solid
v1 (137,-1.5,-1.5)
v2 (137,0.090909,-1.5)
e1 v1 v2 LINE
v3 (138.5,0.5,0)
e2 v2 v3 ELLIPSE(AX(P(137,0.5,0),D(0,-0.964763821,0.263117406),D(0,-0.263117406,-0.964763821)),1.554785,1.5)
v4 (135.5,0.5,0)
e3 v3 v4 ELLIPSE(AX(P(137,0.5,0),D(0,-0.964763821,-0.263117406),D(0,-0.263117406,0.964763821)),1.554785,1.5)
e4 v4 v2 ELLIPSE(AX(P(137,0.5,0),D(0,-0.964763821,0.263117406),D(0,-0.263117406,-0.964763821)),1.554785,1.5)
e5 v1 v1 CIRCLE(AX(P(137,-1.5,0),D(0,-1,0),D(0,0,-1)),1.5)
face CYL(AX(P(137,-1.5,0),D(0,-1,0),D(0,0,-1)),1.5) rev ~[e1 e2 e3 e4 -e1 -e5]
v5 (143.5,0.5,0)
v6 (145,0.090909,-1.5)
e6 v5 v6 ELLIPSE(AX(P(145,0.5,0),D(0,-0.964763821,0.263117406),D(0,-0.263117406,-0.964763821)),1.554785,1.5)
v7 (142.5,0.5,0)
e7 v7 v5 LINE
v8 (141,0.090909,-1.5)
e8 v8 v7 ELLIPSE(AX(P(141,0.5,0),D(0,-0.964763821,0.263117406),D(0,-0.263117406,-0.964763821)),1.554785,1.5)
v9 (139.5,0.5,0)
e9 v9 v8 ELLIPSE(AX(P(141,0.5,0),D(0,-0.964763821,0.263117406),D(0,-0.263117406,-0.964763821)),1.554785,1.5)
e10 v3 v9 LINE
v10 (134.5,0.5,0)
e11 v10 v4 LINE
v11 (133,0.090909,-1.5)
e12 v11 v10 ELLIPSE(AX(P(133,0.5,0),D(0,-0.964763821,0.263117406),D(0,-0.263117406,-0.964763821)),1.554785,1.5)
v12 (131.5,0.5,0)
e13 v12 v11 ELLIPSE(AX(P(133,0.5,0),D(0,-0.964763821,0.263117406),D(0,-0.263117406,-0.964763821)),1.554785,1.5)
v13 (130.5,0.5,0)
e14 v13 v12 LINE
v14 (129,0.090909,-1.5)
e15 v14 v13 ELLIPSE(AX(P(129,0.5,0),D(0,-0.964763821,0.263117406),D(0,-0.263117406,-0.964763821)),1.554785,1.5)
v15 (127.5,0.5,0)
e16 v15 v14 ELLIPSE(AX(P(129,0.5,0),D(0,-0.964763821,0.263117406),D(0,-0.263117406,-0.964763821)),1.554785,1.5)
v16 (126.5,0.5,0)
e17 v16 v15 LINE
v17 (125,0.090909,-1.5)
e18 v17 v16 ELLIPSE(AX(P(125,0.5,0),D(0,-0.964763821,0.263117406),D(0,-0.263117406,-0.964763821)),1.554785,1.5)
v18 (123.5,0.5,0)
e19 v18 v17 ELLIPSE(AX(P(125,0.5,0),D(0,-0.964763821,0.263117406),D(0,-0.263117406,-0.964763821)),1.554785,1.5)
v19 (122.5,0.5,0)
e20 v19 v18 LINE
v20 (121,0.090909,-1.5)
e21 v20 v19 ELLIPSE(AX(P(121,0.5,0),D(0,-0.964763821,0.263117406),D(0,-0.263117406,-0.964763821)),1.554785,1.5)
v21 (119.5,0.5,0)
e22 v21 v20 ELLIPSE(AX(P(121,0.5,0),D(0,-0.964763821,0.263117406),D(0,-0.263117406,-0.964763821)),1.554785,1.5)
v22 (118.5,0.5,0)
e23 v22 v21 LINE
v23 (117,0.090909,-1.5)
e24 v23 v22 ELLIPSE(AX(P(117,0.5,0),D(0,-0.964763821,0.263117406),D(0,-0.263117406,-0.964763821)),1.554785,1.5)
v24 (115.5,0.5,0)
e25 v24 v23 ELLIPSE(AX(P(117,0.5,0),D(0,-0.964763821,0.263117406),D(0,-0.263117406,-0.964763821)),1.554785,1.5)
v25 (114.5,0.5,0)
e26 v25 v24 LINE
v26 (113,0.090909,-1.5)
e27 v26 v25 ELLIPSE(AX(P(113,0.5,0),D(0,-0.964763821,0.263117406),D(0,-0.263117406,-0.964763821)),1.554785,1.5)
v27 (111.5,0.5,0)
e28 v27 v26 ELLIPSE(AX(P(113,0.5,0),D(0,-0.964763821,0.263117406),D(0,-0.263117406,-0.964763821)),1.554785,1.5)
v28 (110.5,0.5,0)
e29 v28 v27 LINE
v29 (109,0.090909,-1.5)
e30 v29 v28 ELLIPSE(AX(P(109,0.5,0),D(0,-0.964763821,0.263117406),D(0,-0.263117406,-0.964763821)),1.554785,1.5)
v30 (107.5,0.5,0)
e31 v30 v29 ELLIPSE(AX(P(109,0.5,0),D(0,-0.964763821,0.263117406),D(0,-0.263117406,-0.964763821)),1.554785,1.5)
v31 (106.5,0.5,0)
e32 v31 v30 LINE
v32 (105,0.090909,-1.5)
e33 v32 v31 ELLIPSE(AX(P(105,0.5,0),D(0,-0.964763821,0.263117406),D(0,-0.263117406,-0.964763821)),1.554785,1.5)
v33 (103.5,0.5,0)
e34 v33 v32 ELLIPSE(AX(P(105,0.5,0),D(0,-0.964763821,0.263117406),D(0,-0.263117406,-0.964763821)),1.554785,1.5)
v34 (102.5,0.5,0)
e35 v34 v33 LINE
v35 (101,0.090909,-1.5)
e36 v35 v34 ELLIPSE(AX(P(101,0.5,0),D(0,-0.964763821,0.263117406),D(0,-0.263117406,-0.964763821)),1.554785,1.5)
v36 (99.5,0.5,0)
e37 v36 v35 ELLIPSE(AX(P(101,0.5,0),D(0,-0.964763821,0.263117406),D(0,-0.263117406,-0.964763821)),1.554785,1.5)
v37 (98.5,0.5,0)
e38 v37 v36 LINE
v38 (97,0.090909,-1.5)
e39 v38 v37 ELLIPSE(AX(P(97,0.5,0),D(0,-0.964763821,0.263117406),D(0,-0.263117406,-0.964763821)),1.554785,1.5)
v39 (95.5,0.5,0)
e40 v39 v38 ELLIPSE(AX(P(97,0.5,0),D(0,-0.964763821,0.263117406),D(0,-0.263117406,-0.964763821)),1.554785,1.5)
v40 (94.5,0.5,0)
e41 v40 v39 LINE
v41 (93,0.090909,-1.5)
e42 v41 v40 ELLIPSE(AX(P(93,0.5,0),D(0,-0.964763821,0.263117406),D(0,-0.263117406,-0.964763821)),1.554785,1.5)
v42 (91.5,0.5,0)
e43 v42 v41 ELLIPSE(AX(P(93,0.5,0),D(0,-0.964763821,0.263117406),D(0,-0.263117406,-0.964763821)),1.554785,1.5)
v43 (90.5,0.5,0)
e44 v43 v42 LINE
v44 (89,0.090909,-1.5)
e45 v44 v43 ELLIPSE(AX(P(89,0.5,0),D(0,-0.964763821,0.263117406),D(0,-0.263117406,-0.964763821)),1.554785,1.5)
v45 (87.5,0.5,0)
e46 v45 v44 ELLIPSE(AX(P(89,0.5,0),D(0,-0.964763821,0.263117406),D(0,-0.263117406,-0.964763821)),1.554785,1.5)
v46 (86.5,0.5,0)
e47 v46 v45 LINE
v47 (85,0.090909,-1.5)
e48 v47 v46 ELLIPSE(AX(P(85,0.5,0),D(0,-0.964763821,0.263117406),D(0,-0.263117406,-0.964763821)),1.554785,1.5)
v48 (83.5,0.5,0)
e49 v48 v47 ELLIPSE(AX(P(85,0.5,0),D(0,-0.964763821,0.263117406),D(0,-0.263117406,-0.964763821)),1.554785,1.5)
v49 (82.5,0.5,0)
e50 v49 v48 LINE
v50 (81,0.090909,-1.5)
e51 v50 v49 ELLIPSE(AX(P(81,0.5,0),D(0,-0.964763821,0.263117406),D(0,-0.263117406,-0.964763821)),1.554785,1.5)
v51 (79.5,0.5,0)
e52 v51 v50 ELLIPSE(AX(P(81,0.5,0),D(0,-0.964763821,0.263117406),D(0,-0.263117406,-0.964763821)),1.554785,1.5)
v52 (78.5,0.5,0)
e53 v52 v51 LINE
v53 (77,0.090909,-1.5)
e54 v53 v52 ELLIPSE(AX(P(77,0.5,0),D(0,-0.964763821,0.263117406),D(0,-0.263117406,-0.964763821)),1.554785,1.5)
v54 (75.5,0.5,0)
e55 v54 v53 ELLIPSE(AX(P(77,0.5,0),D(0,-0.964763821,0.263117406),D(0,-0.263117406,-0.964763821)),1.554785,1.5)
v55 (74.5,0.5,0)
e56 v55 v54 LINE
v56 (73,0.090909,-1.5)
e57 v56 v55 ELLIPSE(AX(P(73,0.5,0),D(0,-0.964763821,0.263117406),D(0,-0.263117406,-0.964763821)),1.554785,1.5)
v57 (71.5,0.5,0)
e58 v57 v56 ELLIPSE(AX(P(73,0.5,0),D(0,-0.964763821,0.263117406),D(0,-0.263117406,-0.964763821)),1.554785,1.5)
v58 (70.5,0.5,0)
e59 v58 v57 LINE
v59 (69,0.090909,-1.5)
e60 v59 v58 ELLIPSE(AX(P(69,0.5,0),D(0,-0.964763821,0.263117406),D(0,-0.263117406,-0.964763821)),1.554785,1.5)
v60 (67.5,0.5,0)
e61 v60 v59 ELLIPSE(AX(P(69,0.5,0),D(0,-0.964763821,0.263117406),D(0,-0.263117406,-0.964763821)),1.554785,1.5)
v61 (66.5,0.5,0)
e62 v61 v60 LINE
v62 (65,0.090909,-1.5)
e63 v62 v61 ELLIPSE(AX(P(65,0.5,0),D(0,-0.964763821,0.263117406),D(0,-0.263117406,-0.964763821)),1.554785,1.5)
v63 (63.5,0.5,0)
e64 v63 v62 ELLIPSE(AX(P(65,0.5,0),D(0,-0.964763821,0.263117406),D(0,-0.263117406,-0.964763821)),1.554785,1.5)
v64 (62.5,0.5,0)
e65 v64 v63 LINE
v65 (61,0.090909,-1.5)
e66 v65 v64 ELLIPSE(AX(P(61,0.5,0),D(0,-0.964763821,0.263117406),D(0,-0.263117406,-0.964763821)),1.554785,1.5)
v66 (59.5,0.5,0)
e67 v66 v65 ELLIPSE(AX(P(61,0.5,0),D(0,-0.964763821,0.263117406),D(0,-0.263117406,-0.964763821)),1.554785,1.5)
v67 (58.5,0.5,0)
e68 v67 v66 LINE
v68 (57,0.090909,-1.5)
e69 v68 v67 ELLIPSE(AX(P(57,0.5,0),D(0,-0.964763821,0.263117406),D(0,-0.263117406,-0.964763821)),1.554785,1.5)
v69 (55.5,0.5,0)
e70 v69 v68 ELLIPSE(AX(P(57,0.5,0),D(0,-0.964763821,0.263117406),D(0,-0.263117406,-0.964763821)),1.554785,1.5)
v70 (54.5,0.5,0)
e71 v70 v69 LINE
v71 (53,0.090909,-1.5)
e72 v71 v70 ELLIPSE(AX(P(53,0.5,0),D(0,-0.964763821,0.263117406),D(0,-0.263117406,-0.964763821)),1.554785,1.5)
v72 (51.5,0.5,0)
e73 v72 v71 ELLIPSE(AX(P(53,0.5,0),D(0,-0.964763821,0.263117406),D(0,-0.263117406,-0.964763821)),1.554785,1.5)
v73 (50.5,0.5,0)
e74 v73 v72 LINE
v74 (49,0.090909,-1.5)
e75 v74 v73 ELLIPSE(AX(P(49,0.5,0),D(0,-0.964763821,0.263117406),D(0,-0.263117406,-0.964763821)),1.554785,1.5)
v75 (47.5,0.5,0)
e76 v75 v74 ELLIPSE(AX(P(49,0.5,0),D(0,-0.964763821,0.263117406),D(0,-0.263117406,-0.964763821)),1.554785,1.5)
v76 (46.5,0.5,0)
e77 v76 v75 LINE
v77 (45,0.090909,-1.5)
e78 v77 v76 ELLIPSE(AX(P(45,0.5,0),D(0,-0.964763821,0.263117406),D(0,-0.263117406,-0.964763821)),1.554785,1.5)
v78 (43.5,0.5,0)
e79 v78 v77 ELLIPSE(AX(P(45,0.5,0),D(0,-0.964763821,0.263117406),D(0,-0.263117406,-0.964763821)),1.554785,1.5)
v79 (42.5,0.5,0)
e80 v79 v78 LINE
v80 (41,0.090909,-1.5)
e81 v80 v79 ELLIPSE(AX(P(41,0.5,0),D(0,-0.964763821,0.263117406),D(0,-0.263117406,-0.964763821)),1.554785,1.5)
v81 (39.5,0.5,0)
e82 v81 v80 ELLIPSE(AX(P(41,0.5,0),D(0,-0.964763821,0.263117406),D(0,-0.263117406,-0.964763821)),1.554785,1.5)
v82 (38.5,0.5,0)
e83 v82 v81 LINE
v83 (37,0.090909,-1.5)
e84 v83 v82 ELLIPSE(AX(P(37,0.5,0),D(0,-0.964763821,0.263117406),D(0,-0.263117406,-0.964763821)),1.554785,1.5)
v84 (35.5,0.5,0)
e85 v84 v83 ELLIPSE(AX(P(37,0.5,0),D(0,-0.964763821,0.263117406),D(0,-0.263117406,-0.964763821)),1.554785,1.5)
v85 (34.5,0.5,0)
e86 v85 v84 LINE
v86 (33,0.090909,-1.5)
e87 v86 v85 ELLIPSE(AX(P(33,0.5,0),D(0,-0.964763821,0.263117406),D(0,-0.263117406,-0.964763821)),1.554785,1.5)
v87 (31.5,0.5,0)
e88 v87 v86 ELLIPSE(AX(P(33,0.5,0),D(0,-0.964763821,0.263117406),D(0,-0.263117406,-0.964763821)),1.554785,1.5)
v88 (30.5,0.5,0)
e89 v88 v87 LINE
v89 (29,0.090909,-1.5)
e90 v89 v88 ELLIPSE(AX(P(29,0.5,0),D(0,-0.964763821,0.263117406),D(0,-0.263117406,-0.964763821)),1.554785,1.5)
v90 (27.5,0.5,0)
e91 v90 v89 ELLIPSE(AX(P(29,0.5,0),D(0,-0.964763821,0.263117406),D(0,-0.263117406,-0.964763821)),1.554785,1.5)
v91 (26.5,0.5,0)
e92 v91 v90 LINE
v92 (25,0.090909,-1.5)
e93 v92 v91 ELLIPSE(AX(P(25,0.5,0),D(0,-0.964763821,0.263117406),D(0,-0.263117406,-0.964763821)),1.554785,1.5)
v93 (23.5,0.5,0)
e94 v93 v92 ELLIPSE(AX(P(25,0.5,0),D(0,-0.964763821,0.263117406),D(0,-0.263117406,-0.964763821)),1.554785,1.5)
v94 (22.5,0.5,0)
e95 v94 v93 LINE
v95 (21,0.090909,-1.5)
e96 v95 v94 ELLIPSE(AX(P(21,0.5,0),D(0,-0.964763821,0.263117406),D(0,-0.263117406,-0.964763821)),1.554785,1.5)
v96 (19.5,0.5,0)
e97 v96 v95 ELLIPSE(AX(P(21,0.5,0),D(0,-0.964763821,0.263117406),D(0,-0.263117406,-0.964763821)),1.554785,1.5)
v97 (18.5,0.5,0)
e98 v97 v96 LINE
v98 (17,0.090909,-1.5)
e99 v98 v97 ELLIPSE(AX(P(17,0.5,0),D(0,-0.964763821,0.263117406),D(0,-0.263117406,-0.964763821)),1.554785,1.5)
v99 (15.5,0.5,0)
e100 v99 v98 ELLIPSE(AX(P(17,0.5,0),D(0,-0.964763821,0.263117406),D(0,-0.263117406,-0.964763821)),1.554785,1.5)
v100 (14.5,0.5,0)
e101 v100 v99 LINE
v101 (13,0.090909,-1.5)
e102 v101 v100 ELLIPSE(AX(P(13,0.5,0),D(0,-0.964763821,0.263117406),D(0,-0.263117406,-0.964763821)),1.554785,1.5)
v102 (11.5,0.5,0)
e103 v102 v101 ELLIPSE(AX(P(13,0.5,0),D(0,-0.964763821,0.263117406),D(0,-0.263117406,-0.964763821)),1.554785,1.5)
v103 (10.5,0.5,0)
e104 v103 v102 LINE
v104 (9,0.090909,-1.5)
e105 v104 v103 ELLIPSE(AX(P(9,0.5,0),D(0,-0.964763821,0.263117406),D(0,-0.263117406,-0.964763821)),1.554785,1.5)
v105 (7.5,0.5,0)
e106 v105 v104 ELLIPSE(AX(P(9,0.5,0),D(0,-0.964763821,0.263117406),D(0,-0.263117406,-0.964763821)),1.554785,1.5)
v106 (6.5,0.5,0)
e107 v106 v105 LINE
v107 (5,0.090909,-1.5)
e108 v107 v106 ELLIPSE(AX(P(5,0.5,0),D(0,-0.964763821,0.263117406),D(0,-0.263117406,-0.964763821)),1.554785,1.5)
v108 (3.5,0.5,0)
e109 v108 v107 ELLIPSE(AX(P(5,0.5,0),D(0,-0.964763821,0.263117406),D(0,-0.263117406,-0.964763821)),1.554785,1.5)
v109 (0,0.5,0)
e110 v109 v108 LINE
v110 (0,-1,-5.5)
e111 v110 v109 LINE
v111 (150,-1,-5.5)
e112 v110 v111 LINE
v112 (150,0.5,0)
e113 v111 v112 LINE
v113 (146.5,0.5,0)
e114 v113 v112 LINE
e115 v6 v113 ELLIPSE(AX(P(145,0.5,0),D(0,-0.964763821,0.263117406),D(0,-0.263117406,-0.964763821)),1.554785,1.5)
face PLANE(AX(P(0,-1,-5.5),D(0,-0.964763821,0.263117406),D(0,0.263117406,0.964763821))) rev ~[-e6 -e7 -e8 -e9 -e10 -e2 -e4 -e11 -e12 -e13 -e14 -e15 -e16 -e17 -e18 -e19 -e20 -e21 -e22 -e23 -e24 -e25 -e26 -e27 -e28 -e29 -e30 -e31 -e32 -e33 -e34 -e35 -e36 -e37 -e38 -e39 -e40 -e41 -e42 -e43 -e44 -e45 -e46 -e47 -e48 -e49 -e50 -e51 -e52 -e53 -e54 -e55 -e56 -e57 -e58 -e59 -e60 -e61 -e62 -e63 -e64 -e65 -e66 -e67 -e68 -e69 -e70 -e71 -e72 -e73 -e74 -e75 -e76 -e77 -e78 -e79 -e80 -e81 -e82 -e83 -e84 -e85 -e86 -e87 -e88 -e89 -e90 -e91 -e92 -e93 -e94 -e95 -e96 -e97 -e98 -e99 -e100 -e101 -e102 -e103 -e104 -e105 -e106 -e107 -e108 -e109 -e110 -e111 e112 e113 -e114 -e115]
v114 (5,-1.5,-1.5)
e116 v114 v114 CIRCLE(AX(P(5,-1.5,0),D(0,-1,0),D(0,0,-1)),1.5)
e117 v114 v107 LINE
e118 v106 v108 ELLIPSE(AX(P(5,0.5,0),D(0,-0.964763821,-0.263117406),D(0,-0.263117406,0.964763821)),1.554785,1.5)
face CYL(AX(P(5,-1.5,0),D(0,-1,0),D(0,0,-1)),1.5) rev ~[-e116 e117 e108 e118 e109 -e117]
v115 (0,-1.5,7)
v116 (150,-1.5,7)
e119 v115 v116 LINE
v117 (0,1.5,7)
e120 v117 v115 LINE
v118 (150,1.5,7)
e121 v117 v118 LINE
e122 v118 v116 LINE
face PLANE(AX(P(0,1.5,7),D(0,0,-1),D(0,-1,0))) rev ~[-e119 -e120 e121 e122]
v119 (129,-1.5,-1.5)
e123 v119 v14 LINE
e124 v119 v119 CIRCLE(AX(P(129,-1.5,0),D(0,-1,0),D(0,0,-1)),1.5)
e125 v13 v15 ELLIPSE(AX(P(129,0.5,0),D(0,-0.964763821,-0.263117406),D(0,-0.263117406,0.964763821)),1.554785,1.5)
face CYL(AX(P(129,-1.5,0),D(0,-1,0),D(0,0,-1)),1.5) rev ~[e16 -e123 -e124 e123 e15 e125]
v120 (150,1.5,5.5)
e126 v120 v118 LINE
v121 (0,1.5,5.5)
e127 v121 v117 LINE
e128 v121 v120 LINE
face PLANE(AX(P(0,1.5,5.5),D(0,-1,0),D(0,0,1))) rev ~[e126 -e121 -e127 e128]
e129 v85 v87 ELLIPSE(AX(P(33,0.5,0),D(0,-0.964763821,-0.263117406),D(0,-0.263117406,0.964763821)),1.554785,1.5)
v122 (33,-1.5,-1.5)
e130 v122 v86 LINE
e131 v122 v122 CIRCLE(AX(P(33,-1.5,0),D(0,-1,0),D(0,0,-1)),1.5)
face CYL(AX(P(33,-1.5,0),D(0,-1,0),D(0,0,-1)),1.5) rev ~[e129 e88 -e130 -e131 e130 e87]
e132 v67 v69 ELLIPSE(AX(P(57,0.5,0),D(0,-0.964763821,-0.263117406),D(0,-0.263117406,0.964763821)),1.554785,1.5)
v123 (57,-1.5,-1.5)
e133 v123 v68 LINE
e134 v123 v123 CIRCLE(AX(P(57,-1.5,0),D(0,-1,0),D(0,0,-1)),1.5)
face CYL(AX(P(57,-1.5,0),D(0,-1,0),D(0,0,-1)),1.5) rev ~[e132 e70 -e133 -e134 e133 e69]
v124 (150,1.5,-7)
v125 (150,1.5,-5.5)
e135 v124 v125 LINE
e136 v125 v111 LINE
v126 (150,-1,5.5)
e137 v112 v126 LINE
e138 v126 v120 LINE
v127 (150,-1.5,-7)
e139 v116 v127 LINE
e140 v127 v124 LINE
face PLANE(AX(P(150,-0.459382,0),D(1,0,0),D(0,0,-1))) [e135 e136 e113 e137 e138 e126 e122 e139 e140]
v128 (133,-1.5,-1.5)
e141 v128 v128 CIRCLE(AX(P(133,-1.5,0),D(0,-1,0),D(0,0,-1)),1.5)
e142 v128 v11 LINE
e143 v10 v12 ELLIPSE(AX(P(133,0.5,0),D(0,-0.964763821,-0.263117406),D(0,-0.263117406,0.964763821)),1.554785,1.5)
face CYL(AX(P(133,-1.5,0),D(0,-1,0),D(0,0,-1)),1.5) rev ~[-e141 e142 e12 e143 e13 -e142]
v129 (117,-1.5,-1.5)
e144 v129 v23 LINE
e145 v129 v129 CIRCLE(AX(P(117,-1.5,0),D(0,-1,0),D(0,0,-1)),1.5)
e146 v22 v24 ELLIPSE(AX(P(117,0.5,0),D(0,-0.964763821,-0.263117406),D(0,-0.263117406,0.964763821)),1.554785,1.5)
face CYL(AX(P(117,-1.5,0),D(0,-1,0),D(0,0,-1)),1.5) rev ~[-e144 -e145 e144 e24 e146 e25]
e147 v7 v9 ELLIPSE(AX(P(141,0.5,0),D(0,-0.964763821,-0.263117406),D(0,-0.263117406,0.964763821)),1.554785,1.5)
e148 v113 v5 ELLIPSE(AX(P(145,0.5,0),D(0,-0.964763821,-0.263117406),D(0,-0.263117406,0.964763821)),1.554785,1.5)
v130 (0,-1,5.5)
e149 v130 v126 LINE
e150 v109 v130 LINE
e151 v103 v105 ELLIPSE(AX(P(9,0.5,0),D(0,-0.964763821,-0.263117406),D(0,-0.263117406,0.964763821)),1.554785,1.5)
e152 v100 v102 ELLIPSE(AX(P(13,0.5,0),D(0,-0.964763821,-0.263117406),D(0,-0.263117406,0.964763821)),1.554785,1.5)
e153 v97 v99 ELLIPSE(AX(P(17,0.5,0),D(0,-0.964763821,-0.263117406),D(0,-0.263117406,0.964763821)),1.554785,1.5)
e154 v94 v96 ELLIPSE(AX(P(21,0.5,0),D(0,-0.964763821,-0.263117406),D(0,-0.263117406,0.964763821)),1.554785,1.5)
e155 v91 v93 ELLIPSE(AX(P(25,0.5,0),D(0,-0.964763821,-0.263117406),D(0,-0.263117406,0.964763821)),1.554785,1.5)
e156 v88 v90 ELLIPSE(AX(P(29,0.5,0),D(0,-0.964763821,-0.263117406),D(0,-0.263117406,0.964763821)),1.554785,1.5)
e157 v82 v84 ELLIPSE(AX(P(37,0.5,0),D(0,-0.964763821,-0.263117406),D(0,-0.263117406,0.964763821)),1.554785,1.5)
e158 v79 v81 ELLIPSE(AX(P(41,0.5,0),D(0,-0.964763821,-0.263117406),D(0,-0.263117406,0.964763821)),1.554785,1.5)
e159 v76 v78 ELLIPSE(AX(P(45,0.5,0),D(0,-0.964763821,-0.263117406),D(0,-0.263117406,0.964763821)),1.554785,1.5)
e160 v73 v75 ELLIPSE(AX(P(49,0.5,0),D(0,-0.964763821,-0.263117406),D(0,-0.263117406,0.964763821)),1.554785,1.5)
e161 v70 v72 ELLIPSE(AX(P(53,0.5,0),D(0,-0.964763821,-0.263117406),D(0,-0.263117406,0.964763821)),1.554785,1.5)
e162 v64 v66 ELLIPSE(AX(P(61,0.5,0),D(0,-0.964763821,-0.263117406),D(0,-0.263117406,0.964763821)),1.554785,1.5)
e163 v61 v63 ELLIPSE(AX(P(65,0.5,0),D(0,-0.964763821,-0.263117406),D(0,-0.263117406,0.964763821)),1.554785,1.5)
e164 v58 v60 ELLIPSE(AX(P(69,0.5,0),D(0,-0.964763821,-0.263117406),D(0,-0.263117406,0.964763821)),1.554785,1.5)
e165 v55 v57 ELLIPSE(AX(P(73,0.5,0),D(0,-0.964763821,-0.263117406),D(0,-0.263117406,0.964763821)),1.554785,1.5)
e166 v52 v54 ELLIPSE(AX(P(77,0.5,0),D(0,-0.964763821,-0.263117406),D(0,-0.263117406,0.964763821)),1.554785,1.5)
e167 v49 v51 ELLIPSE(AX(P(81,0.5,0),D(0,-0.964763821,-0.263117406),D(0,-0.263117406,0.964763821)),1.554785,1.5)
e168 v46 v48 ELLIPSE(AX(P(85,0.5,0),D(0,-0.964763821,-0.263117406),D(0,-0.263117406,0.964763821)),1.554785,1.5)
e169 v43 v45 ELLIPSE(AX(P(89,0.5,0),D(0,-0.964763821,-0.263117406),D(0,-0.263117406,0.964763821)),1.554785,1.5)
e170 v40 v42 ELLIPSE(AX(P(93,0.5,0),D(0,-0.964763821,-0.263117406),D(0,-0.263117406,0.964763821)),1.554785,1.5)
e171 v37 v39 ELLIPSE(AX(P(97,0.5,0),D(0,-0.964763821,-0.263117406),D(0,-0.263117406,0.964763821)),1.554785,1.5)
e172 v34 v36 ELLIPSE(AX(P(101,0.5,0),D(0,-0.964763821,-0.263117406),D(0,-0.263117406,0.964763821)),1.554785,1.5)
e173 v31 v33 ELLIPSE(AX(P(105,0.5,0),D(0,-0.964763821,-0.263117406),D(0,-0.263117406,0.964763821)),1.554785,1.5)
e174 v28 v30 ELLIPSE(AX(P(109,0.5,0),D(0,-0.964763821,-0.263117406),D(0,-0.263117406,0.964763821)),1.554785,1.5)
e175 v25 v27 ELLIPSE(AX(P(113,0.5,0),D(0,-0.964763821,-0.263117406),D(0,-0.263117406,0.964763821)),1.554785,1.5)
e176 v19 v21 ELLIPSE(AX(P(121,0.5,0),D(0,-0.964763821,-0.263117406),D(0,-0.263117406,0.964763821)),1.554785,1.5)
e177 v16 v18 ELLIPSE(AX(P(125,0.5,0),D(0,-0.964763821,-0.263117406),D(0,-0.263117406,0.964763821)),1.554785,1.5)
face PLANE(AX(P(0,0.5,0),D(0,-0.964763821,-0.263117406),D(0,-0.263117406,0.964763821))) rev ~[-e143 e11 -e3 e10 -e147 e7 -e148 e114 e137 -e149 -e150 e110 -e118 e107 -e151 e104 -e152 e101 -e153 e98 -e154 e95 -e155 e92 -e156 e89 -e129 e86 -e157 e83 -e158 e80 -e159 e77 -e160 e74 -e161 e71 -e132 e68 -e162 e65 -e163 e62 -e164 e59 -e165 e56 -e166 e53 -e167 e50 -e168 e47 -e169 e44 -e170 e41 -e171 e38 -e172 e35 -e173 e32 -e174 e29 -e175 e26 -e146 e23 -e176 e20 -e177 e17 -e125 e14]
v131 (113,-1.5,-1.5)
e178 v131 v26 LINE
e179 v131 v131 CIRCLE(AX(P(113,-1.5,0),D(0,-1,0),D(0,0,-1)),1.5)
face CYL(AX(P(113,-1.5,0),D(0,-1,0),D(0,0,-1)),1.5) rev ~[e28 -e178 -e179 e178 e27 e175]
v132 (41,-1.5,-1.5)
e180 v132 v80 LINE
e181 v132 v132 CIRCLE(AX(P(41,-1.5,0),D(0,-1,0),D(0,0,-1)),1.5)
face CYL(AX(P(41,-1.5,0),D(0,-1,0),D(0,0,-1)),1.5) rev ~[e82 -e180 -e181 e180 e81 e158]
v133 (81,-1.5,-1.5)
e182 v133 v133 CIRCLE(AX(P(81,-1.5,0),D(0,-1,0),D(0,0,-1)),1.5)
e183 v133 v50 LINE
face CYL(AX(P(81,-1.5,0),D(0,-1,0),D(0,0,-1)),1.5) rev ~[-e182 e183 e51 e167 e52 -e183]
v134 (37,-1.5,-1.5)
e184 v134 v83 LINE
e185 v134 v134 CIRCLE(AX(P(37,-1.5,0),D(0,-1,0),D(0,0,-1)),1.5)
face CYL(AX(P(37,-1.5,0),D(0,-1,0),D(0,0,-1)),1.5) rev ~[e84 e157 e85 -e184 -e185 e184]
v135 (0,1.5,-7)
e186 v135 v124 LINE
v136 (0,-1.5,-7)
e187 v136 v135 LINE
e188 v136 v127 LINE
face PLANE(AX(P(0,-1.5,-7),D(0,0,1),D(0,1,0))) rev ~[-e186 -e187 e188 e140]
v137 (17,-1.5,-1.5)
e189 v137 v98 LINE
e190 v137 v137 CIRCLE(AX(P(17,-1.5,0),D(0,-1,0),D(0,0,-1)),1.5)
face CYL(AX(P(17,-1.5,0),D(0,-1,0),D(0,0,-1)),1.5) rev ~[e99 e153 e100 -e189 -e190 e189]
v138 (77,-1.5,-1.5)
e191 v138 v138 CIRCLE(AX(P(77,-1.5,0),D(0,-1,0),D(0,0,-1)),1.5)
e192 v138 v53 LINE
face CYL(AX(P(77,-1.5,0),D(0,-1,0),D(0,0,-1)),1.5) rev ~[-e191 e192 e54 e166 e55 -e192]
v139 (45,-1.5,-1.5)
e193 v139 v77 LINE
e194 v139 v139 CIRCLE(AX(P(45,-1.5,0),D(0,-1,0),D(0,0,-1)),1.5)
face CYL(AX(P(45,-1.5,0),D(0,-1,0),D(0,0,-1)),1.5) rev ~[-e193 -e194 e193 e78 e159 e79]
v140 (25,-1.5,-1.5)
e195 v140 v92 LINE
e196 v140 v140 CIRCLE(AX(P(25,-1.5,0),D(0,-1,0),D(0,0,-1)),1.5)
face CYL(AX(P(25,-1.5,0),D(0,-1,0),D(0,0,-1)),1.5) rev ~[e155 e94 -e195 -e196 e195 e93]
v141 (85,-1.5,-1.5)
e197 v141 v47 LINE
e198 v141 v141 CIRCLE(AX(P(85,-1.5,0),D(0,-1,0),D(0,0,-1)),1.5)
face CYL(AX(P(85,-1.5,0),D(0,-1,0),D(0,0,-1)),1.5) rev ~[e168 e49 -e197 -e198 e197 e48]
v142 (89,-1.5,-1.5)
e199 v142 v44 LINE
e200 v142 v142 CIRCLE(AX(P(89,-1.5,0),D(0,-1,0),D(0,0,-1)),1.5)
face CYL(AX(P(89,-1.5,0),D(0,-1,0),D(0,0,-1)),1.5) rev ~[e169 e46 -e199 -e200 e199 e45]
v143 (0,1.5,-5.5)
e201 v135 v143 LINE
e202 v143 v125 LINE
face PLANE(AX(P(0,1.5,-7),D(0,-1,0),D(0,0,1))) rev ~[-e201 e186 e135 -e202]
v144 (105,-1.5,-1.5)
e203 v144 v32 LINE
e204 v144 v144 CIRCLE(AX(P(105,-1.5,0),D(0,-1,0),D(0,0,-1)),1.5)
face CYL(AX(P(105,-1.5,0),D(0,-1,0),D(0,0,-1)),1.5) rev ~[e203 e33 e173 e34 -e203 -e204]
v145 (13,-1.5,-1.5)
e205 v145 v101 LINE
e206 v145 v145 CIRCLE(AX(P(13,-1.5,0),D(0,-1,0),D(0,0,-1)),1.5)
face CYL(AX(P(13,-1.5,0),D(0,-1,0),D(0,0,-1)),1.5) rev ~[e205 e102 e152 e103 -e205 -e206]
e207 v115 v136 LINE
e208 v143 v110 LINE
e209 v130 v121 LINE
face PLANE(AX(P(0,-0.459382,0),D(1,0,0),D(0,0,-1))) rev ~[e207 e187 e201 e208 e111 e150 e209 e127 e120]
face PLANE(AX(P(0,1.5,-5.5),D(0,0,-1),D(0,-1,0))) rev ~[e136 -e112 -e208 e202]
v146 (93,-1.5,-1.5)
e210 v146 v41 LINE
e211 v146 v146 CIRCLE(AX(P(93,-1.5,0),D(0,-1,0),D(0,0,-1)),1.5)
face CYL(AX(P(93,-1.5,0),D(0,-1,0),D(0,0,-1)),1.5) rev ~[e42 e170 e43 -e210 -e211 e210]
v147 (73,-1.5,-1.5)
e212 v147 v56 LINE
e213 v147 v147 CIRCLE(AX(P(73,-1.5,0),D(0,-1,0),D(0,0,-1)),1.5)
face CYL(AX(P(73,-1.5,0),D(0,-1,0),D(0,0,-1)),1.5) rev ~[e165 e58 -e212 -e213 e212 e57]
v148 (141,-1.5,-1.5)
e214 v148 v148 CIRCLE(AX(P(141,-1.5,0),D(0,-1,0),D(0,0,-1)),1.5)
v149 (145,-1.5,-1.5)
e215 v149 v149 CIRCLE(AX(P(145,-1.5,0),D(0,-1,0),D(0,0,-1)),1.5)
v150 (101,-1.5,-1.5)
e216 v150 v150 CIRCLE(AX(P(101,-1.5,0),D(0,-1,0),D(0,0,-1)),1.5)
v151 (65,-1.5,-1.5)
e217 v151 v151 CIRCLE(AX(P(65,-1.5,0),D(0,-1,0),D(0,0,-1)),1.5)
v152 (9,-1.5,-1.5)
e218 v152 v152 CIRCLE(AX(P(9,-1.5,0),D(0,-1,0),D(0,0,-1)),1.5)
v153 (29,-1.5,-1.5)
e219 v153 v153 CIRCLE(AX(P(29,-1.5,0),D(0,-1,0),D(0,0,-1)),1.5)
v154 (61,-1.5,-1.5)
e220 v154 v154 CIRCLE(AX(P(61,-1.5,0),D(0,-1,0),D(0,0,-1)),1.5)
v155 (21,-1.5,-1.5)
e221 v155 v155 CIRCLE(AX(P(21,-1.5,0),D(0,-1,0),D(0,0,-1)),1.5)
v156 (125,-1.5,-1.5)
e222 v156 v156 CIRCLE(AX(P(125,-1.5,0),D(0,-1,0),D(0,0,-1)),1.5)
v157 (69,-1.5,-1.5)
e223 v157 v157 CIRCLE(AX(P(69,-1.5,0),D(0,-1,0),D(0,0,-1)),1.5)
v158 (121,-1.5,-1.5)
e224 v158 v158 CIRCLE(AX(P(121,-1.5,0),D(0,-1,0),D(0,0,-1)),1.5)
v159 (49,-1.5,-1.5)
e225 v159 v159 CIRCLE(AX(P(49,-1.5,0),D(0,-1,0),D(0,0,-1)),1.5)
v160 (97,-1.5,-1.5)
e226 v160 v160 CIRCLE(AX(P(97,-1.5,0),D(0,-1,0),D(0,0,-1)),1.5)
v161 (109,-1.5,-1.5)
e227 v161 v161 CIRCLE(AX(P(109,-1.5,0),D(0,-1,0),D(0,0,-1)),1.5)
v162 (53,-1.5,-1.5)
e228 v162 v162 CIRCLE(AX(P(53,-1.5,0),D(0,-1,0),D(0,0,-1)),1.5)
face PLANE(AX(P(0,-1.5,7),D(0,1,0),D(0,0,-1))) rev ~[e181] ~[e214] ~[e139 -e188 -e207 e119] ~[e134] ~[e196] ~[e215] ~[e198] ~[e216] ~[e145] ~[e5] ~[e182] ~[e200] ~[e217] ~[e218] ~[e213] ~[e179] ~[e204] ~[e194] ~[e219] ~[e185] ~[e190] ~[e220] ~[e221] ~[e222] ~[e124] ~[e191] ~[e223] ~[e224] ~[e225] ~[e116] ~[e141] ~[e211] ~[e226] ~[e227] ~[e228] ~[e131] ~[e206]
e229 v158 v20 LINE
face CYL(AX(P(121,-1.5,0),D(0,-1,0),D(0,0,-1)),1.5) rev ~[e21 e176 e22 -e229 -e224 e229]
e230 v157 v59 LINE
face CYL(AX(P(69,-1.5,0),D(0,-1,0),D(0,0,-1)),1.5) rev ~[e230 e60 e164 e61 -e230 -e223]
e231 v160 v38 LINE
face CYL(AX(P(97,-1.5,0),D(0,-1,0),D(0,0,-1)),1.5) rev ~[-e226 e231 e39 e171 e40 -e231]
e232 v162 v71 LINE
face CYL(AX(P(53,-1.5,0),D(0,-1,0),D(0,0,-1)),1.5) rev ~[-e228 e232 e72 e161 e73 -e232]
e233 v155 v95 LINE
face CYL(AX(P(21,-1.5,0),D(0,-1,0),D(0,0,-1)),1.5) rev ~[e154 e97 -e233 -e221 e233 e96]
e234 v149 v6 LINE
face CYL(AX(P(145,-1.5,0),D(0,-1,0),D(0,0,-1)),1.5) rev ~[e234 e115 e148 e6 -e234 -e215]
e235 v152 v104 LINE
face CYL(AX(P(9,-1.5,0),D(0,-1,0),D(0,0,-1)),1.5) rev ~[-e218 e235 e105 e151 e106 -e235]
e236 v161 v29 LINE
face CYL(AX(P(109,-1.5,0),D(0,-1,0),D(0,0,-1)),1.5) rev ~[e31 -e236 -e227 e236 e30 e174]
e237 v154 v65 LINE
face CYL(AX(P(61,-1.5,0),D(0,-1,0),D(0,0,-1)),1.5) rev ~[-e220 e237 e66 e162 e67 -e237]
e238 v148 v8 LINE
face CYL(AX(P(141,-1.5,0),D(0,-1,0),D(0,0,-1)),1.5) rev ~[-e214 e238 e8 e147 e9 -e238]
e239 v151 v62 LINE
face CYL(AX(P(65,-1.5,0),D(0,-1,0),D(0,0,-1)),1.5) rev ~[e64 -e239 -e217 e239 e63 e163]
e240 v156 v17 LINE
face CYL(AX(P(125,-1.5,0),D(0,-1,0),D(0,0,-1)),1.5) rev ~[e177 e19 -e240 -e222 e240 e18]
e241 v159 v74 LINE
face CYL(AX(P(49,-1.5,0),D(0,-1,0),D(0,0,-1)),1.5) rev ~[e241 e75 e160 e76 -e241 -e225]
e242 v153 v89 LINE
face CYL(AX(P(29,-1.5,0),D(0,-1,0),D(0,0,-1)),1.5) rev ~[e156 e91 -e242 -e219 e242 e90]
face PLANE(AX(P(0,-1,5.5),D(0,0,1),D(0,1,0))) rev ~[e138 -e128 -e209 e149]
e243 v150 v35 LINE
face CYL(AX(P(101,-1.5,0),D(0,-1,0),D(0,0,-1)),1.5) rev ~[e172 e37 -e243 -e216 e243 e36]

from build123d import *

# Parameters (mm, degrees)
BOSS_EXTRUDE1_DEPTH = 150
SKETCH3_R           = 1.5
CUT_EXTRUDE1_DEPTH  = 5
LPATTERN1_COUNT     = 36
LPATTERN1_PITCH     = 4


with BuildPart() as part:
    # Sketch2 → Boss-Extrude1 (new body)
    with BuildSketch(Plane(origin=(0, 0, 0), x_dir=(0, 0, -1), z_dir=(1, 0, 0))):
        Polygon((-7, -1.5), (7, -1.5), (7, 1.5), (5.5, 1.5), (5.5, -1), (0, 0.5), (-5.5, -1), (-5.5, 1.5), (-7, 1.5), align=None)
    extrude(amount=BOSS_EXTRUDE1_DEPTH)

    # Sketch3 → Cut-Extrude1 (cut)
    with BuildSketch(Plane.XZ.offset(1.5)):
        with Locations(Location((5, 0, 0), (0, 0, 270))):
            Circle(SKETCH3_R)
    cut_extrude1 = extrude(amount=-CUT_EXTRUDE1_DEPTH, mode=Mode.SUBTRACT)

    # LPattern1: Cut-Extrude1 ×36
    with Locations(*[(i * LPATTERN1_PITCH, 0, 0) for i in range(1, LPATTERN1_COUNT)]):
        add(cut_extrude1, mode=Mode.SUBTRACT)


solid = part.part
